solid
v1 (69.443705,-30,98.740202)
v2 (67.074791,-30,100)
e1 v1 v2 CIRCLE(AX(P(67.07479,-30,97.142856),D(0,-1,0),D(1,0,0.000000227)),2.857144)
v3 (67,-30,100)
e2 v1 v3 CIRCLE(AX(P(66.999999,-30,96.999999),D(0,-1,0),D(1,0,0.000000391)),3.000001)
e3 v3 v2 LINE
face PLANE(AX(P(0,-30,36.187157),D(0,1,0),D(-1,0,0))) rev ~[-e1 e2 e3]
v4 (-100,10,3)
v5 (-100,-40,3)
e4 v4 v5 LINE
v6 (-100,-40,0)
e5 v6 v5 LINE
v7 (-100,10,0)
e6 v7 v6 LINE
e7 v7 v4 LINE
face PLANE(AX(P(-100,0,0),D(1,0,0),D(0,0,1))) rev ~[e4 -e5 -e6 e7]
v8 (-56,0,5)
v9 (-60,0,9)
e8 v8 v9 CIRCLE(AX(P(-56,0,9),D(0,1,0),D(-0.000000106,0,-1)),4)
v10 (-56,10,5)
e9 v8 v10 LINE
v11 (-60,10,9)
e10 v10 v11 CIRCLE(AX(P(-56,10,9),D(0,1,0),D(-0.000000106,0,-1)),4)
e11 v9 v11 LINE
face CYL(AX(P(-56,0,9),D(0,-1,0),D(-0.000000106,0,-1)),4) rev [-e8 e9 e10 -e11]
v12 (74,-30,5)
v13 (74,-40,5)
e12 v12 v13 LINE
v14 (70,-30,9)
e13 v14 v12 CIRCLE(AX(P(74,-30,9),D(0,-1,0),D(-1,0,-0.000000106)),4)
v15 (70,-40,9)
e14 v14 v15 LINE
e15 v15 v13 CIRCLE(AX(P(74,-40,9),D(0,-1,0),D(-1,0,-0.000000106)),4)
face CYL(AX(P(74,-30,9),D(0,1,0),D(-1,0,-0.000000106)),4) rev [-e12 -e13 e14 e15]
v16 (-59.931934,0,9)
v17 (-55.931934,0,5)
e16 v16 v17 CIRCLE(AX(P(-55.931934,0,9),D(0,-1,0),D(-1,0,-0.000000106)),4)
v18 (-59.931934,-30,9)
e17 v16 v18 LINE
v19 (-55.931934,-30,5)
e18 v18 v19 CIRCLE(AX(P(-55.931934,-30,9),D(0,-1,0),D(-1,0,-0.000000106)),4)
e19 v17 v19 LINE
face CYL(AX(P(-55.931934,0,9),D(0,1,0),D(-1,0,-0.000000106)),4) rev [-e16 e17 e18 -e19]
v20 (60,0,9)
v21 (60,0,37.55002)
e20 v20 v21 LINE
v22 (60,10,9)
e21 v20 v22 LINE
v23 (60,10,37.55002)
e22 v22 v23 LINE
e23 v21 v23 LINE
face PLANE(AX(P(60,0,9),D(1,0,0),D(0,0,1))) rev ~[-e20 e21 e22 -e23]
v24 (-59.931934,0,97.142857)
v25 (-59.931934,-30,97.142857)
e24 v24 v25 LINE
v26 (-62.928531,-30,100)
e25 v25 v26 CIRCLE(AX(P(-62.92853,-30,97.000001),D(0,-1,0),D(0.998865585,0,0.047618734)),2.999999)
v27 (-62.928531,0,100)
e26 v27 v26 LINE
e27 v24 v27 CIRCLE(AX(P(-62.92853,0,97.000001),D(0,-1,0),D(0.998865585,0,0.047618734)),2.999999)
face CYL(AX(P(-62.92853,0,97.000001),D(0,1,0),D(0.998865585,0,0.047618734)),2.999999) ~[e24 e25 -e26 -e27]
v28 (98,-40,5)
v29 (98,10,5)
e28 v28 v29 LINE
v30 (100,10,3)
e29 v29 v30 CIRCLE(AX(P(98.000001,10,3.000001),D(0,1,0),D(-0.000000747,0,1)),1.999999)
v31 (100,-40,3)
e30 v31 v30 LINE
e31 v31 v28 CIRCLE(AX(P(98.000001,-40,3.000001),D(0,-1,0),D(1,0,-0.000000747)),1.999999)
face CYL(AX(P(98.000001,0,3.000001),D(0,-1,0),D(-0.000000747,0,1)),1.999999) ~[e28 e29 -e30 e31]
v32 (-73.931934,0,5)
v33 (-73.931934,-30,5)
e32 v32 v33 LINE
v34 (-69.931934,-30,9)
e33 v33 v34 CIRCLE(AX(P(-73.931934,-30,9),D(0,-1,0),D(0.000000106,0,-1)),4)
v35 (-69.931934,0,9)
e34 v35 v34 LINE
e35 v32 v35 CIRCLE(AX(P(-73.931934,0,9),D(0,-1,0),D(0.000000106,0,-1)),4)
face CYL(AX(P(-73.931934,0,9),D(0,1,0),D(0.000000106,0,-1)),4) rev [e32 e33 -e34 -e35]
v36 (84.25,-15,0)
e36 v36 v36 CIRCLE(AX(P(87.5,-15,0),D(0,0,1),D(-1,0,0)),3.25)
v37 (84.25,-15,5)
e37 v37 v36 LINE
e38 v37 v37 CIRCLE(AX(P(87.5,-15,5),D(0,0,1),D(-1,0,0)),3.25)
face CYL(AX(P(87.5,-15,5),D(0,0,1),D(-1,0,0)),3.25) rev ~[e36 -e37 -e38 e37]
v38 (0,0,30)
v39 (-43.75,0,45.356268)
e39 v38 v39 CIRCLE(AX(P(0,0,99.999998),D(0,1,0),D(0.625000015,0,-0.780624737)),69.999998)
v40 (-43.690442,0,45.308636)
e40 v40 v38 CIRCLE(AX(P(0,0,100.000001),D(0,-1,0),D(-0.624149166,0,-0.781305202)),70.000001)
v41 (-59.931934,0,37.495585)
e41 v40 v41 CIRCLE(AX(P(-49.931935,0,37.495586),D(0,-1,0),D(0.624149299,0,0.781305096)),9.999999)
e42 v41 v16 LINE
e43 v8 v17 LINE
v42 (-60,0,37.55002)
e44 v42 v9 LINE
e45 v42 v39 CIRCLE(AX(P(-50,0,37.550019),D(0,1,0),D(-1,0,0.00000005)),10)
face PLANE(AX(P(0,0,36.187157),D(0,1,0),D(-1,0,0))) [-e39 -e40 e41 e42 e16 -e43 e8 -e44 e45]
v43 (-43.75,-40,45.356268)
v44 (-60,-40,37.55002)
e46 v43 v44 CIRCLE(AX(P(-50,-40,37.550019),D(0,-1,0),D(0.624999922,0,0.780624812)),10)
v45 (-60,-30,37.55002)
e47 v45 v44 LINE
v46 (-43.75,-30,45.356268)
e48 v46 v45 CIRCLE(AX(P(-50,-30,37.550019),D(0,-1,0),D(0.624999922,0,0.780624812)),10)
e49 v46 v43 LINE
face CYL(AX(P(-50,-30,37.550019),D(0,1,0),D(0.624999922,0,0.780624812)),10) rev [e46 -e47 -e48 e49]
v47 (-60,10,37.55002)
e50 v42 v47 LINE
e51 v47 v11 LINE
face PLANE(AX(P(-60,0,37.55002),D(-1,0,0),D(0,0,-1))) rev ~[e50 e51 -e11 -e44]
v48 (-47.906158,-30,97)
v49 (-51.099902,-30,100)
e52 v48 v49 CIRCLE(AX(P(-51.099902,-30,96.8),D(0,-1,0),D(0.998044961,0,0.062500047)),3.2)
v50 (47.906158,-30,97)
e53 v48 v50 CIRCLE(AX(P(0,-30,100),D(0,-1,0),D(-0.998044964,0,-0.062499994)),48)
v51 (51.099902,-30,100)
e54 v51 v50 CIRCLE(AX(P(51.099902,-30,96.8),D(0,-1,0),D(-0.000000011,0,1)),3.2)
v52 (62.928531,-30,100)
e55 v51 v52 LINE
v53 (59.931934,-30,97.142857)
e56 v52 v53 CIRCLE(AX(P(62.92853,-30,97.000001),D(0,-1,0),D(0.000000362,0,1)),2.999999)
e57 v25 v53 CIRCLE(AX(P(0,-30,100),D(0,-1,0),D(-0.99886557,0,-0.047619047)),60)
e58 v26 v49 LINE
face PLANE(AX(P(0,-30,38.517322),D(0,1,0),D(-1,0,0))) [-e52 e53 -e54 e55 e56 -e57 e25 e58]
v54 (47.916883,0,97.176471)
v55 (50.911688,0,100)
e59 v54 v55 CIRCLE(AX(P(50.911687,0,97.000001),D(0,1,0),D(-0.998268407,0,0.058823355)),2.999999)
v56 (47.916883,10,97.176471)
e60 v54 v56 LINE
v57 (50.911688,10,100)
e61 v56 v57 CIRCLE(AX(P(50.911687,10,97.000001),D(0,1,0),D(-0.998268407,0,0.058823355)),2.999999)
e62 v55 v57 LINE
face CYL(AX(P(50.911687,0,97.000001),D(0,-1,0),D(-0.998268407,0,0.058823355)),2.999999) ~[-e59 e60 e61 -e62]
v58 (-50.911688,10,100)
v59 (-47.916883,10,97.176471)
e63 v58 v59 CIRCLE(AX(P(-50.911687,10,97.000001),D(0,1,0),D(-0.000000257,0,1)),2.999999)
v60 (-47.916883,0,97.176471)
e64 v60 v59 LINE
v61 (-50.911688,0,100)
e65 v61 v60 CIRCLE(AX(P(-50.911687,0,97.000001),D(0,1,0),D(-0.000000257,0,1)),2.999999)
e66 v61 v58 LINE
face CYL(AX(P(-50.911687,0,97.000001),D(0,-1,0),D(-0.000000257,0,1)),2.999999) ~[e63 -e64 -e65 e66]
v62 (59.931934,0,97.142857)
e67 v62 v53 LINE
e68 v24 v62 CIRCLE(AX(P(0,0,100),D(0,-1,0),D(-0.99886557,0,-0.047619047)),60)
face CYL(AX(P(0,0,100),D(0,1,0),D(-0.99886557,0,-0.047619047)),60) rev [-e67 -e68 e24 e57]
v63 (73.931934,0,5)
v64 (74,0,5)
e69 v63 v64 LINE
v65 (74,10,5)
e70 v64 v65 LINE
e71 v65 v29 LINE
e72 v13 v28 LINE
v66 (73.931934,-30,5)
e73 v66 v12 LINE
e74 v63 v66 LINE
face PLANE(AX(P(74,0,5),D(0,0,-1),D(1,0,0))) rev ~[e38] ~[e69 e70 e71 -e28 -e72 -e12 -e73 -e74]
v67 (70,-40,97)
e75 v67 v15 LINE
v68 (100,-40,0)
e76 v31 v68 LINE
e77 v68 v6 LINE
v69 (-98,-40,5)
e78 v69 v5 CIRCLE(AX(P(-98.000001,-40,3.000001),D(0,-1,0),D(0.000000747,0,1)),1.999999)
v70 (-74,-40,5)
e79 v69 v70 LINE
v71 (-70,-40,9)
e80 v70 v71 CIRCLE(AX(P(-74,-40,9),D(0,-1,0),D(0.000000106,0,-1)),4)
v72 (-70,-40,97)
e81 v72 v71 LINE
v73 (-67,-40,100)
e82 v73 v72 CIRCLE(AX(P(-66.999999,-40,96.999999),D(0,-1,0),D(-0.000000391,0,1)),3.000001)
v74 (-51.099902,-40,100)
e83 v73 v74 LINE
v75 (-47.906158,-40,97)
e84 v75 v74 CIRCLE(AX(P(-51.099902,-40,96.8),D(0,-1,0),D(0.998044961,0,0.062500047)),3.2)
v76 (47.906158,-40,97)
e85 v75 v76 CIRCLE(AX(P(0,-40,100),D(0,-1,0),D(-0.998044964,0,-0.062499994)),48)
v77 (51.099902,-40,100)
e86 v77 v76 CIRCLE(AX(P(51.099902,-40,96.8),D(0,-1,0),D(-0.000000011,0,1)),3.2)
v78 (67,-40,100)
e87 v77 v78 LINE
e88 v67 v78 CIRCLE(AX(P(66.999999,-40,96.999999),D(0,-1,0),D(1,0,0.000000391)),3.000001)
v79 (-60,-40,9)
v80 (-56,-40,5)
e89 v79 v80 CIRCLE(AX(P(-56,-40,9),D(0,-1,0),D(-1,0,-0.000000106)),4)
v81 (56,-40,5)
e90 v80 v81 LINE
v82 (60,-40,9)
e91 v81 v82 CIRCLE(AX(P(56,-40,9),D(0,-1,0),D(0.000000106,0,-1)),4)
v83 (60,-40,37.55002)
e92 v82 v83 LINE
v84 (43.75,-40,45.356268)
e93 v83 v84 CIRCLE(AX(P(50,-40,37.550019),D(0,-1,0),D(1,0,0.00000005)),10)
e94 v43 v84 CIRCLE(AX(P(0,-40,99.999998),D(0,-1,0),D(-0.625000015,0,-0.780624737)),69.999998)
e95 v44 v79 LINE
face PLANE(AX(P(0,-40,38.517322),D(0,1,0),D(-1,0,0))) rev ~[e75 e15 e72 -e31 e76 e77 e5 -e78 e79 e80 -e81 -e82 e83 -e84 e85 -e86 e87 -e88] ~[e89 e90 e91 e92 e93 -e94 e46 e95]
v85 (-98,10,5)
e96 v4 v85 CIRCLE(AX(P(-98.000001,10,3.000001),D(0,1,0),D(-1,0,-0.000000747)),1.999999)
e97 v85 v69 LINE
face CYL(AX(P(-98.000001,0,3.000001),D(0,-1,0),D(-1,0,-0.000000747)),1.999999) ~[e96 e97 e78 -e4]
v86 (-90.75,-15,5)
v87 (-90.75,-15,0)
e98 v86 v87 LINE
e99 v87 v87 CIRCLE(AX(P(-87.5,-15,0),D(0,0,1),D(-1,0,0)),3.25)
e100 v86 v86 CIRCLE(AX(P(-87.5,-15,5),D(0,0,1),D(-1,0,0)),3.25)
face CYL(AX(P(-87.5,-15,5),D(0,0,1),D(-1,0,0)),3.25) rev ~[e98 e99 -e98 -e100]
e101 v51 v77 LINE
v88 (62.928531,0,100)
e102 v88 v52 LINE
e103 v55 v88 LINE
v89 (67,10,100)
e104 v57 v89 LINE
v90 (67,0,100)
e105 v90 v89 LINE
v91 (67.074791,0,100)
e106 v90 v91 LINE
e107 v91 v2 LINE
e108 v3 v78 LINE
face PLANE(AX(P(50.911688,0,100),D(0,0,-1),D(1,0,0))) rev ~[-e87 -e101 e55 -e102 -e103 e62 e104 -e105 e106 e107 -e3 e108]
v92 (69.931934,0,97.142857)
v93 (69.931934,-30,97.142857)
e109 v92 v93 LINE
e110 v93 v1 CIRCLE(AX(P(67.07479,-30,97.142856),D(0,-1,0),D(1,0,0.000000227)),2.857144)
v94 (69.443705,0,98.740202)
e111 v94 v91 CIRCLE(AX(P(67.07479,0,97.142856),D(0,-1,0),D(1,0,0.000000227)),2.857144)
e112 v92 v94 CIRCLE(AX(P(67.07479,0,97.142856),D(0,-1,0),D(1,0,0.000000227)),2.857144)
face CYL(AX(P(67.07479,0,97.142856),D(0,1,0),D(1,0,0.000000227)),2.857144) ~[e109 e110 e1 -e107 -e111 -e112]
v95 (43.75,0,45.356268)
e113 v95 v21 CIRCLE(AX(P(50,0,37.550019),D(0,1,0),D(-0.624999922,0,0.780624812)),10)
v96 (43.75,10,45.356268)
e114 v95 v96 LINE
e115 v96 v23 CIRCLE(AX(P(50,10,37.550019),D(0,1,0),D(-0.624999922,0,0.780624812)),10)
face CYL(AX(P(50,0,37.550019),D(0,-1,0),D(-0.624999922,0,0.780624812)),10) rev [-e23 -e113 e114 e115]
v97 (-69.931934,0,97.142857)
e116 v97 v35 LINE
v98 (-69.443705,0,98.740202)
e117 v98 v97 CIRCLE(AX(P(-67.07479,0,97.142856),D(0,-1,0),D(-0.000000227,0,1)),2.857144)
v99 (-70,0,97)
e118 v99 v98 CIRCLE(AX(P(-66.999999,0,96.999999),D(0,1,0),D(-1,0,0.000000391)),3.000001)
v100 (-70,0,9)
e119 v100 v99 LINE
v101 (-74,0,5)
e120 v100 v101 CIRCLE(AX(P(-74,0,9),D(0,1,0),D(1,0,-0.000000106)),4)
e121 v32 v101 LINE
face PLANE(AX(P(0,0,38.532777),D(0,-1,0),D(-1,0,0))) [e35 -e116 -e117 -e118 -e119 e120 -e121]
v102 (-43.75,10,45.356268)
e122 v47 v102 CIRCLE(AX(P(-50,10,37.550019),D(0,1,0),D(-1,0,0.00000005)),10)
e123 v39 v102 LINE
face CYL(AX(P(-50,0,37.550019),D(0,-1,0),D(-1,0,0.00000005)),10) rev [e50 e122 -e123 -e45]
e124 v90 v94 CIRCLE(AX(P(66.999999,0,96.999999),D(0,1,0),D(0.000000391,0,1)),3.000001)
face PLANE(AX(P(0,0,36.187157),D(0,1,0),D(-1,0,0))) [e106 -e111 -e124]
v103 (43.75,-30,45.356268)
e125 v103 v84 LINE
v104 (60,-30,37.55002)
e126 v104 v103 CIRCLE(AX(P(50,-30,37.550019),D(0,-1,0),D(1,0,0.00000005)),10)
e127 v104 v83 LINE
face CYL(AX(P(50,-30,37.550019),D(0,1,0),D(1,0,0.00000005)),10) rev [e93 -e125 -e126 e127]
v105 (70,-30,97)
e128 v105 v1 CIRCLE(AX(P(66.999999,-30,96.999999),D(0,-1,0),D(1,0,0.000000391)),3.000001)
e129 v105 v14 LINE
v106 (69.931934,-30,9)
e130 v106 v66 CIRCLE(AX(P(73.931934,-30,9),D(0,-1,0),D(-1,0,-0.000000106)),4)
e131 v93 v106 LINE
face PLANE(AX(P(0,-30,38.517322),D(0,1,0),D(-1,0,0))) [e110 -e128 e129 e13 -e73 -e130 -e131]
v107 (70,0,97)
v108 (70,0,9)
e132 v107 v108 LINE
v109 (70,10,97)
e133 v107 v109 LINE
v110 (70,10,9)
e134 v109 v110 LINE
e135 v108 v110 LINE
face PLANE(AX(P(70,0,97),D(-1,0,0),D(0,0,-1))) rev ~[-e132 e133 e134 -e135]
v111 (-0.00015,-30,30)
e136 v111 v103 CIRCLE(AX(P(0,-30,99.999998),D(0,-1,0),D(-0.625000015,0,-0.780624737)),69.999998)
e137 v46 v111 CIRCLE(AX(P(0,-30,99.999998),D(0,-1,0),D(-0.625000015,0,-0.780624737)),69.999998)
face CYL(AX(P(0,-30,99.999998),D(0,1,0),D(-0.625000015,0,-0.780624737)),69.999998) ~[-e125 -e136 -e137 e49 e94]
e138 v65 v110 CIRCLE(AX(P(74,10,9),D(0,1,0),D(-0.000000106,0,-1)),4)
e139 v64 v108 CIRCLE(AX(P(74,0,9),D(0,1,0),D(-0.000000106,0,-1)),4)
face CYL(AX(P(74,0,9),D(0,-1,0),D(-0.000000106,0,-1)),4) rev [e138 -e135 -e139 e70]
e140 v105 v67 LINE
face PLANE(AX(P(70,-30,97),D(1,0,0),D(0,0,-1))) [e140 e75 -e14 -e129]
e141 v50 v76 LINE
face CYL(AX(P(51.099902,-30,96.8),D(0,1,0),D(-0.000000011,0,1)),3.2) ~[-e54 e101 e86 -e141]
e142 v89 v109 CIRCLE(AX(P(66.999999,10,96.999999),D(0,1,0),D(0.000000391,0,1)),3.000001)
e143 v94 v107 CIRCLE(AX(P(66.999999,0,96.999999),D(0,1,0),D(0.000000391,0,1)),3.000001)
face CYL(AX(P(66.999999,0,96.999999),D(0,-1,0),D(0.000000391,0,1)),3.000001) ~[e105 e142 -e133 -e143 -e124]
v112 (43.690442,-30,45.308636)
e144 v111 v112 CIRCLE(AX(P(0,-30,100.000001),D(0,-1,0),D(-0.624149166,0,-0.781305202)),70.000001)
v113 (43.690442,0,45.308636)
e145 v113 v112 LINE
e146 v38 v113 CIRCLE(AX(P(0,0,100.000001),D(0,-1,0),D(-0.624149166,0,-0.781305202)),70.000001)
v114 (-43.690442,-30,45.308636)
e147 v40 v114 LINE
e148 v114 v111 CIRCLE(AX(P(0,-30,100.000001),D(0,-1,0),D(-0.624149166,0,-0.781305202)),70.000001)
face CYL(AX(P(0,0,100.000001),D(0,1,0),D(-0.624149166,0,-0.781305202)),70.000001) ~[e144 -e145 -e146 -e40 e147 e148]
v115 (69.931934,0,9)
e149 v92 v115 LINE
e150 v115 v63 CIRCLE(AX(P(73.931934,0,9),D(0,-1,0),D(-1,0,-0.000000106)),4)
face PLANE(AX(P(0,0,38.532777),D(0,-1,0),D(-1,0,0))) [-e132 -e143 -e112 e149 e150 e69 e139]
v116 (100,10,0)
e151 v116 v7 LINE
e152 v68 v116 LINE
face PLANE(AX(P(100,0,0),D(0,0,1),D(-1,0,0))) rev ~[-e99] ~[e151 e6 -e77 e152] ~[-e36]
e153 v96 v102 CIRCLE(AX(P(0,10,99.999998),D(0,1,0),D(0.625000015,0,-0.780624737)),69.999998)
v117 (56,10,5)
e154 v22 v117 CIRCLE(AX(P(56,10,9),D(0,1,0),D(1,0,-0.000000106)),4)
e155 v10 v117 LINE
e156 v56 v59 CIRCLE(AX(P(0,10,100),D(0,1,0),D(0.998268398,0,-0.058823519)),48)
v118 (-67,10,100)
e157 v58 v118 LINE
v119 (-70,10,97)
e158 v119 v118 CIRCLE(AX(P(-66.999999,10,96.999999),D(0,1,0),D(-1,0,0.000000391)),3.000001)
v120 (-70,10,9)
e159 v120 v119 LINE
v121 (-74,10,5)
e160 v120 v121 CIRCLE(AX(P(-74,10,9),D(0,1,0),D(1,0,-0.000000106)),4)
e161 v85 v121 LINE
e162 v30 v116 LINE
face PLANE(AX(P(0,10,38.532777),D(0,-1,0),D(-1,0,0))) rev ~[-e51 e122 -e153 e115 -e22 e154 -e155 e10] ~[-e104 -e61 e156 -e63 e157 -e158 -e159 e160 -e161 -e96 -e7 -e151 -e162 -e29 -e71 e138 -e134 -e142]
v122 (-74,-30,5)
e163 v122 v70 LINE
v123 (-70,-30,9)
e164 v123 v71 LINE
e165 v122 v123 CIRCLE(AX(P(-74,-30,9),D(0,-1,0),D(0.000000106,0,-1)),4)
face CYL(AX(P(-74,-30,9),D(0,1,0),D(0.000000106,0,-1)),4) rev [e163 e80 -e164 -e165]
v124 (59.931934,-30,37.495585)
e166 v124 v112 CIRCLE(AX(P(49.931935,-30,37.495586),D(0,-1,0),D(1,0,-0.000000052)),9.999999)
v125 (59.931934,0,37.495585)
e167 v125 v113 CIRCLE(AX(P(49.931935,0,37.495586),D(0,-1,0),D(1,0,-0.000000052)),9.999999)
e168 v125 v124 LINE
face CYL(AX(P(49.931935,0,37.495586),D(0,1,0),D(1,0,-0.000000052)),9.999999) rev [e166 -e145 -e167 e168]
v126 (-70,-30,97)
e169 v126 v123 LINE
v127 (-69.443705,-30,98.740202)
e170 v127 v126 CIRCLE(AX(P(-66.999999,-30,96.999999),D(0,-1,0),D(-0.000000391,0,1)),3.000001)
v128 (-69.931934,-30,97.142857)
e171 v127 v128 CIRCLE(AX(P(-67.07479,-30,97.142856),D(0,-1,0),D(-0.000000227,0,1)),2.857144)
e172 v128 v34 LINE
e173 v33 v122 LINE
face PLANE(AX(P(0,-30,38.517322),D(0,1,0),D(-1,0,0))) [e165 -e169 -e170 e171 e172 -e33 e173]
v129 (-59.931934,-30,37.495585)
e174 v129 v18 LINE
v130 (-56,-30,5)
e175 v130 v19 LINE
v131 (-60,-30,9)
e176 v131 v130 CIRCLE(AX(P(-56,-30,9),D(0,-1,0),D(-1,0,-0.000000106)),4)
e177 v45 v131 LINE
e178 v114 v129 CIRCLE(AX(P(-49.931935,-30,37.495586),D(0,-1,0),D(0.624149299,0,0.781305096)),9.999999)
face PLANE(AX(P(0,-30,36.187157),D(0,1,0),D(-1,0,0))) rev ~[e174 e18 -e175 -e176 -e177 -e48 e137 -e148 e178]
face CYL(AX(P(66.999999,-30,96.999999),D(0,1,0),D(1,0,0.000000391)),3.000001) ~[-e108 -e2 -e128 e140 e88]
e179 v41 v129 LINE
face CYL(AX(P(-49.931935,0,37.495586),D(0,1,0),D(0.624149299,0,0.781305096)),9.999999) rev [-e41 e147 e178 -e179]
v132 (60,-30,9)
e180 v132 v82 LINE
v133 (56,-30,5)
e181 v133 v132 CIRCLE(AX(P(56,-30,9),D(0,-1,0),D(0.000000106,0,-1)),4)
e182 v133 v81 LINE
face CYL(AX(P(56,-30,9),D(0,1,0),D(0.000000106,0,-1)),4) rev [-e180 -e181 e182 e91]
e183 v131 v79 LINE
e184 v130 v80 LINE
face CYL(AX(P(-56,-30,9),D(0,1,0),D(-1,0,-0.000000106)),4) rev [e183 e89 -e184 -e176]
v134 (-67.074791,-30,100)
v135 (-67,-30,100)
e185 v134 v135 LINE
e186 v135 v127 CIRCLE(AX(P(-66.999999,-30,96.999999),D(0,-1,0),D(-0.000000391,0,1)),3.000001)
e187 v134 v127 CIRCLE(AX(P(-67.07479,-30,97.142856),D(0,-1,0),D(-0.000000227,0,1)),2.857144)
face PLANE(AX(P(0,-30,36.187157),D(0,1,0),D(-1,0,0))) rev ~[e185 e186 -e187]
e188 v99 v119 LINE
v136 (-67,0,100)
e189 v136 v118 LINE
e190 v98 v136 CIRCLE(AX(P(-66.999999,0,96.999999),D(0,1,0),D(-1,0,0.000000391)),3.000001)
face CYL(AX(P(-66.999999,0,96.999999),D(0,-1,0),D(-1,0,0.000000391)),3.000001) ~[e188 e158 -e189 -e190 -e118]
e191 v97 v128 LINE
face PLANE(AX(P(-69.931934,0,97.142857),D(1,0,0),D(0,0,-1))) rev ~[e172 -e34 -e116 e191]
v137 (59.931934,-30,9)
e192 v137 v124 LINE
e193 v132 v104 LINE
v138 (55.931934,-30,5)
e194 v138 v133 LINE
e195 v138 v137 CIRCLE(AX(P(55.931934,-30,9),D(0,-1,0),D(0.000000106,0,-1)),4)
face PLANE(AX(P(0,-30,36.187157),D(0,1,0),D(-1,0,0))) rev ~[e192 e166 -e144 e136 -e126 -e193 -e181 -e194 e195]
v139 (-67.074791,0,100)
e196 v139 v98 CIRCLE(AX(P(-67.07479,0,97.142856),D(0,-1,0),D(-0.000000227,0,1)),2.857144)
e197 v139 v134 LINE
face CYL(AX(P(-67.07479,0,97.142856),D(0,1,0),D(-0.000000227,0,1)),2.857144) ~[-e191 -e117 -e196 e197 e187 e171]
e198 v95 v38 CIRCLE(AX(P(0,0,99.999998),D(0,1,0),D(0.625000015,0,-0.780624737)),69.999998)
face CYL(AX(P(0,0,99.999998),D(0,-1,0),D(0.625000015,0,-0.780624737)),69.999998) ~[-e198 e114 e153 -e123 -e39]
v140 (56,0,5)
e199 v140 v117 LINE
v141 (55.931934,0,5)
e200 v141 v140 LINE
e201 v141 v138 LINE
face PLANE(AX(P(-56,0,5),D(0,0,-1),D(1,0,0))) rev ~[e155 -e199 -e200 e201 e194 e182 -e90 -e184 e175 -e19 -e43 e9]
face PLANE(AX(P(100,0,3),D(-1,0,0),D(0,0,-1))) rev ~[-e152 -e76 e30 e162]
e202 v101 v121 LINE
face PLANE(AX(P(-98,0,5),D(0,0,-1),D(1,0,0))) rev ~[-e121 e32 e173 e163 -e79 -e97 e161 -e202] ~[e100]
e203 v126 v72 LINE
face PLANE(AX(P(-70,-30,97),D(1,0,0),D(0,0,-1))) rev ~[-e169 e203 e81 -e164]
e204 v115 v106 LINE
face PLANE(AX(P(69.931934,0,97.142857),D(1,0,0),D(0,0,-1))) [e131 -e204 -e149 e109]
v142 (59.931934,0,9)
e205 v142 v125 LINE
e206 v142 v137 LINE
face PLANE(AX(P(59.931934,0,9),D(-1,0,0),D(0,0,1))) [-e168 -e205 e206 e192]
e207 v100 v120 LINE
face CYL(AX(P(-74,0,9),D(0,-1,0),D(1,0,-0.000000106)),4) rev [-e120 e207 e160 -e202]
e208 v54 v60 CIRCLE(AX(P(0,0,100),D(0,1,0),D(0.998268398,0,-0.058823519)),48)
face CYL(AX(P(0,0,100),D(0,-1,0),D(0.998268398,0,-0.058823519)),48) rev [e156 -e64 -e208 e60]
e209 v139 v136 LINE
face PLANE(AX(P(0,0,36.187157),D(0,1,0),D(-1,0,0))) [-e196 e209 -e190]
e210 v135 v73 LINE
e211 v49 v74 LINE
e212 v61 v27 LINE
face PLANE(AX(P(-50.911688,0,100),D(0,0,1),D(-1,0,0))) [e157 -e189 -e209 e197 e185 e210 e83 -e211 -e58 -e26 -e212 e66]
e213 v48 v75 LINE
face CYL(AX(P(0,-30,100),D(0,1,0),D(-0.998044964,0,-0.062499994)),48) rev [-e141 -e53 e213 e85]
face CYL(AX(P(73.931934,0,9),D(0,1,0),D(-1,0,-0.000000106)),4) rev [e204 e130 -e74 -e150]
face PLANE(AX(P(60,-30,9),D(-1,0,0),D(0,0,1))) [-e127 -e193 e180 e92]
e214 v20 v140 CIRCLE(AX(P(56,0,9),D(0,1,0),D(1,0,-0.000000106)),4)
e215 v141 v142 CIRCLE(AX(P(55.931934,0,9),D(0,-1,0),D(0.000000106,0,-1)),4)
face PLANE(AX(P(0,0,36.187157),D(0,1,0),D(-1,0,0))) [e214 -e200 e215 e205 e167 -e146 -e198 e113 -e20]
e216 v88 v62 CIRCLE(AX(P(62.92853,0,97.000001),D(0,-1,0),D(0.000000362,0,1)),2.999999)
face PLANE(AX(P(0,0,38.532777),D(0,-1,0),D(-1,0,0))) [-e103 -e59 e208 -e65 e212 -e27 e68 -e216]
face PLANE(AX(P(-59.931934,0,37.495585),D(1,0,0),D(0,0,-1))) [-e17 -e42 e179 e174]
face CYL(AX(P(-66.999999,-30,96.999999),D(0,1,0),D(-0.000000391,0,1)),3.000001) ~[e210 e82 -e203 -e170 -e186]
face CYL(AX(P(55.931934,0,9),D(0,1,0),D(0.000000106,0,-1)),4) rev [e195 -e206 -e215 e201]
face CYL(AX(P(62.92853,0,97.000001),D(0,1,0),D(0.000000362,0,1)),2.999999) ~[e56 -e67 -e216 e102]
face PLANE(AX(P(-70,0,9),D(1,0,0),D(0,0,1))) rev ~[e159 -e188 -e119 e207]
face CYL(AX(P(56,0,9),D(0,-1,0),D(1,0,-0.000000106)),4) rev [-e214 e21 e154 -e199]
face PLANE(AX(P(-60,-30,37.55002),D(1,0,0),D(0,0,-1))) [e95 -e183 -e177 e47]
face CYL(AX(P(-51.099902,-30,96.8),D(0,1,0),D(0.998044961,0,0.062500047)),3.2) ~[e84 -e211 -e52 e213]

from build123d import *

# Parameters (mm, degrees)
PAD_DEPTH    = 30
PAD001_DEPTH = 10
PAD002_DEPTH = 10
SKETCH003_R  = 3.25
POCKET_DEPTH = 5


with BuildPart() as part:
    # Sketch → Pad (new body)
    with BuildSketch(Plane.XZ):
        with BuildLine():
            ThreePointArc((-59.931934, 97.142857), (0, 40), (59.931934, 97.142857))
            ThreePointArc((62.928531, 100), (60.858334, 99.171241), (59.931934, 97.142857))
            Line((62.928531, 100), (67.074791, 100))
            ThreePointArc((69.931934, 97.142857), (69.095096, 99.163162), (67.074791, 100))
            Line((69.931934, 97.142857), (69.931934, 9))
            ThreePointArc((69.931934, 9), (71.103507, 6.171573), (73.931934, 5))
            Line((73.931934, 5), (98, 5))
            ThreePointArc((100, 3), (99.414214, 4.414214), (98, 5))
            Line((100, 0), (100, 3))
            Line((-100, 0), (100, 0))
            Line((-100, 3), (-100, 0))
            ThreePointArc((-98, 5), (-99.414214, 4.414214), (-100, 3))
            Line((-73.931934, 5), (-98, 5))
            ThreePointArc((-73.931934, 5), (-71.103507, 6.171573), (-69.931934, 9))
            Line((-69.931934, 97.142857), (-69.931934, 9))
            ThreePointArc((-67.074791, 100), (-69.095096, 99.163162), (-69.931934, 97.142857))
            Line((-67.074791, 100), (-62.928531, 100))
            ThreePointArc((-59.931934, 97.142857), (-60.858334, 99.171241), (-62.928531, 100))
        make_face()
        with BuildLine():
            ThreePointArc((-43.690442, 45.308636), (0, 30), (43.690442, 45.308636))
            ThreePointArc((59.931934, 37.495585), (54.266971, 46.507103), (43.690442, 45.308636))
            Line((59.931934, 9), (59.931934, 37.495585))
            ThreePointArc((55.931934, 5), (58.760361, 6.171573), (59.931934, 9))
            Line((-55.931934, 5), (55.931934, 5))
            ThreePointArc((-59.931934, 9), (-58.760361, 6.171573), (-55.931934, 5))
            Line((-59.931934, 37.495585), (-59.931934, 9))
            ThreePointArc((-43.690442, 45.308636), (-54.266971, 46.507103), (-59.931934, 37.495585))
        make_face(mode=Mode.SUBTRACT)
    extrude(amount=PAD_DEPTH)

    # Sketch001 (on Face28 of Pad) → Pad001 (join)
    with BuildSketch(Plane.XZ.offset(30)):
        with BuildLine():
            ThreePointArc((-47.906158, 97), (0, 52), (47.906158, 97))
            ThreePointArc((51.099902, 100), (48.909012, 99.132381), (47.906158, 97))
            Line((51.099902, 100), (67, 100))
            ThreePointArc((70, 97), (69.12132, 99.12132), (67, 100))
            Line((70, 97), (70, 9))
            ThreePointArc((70, 9), (71.171573, 6.171573), (74, 5))
            Line((74, 5), (98, 5))
            ThreePointArc((100, 3), (99.414214, 4.414214), (98, 5))
            Line((100, 3), (100, 0))
            Line((100, 0), (-100, 0))
            Line((-100, 0), (-100, 3))
            ThreePointArc((-98, 5), (-99.414214, 4.414214), (-100, 3))
            Line((-98, 5), (-74, 5))
            ThreePointArc((-74, 5), (-71.171573, 6.171573), (-70, 9))
            Line((-70, 97), (-70, 9))
            ThreePointArc((-67, 100), (-69.12132, 99.12132), (-70, 97))
            Line((-67, 100), (-51.099902, 100))
            ThreePointArc((-47.906158, 97), (-48.909012, 99.132381), (-51.099902, 100))
        make_face()
        with BuildLine():
            ThreePointArc((-43.75, 45.356268), (0, 30), (43.75, 45.356268))
            ThreePointArc((60, 37.55002), (54.330127, 46.563898), (43.75, 45.356268))
            Line((60, 9), (60, 37.55002))
            ThreePointArc((56, 5), (58.828427, 6.171573), (60, 9))
            Line((-56, 5), (56, 5))
            ThreePointArc((-60, 9), (-58.828427, 6.171573), (-56, 5))
            Line((-60, 37.55002), (-60, 9))
            ThreePointArc((-43.75, 45.356268), (-54.330127, 46.563898), (-60, 37.55002))
        make_face(mode=Mode.SUBTRACT)
    extrude(amount=PAD001_DEPTH)

    # Sketch002 (on Face4 of Pad001) → Pad002 (join)
    with BuildSketch(Plane(origin=(0, 0, 0), x_dir=(1, 0, 0), z_dir=(0, 1, 0))):
        with BuildLine():
            ThreePointArc((47.916883, -97.176471), (0, -52), (-47.916883, -97.176471))
            ThreePointArc((-50.911688, -100), (-48.853705, -99.182821), (-47.916883, -97.176471))
            Line((-50.911688, -100), (-67, -100))
            ThreePointArc((-70, -97), (-69.12132, -99.12132), (-67, -100))
            Line((-70, -9), (-70, -97))
            ThreePointArc((-70, -9), (-71.171573, -6.171573), (-74, -5))
            Line((-98, -5), (-74, -5))
            ThreePointArc((-100, -3), (-99.414214, -4.414214), (-98, -5))
            Line((-100, 0), (-100, -3))
            Line((100, 0), (-100, 0))
            Line((100, -3), (100, 0))
            ThreePointArc((98, -5), (99.414214, -4.414214), (100, -3))
            Line((74, -5), (98, -5))
            ThreePointArc((74, -5), (71.171573, -6.171573), (70, -9))
            Line((70, -97), (70, -9))
            ThreePointArc((67, -100), (69.12132, -99.12132), (70, -97))
            Line((50.911688, -100), (67, -100))
            ThreePointArc((47.916883, -97.176471), (48.853705, -99.182821), (50.911688, -100))
        make_face()
        with BuildLine():
            ThreePointArc((43.75, -45.356268), (0, -30), (-43.75, -45.356268))
            ThreePointArc((-60, -37.55002), (-54.330127, -46.563898), (-43.75, -45.356268))
            Line((-60, -37.55002), (-60, -9))
            ThreePointArc((-56, -5), (-58.828427, -6.171573), (-60, -9))
            Line((-56, -5), (56, -5))
            ThreePointArc((60, -9), (58.828427, -6.171573), (56, -5))
            Line((60, -9), (60, -37.55002))
            ThreePointArc((43.75, -45.356268), (54.330127, -46.563898), (60, -37.55002))
        make_face(mode=Mode.SUBTRACT)
    extrude(amount=PAD002_DEPTH)

    # Sketch003 (on Face75 of Pad002) → Pocket (cut)
    with BuildSketch(Plane(origin=(0, 0, 5), x_dir=(-1, 0, 0), z_dir=(0, 0, 1))):
        with Locations((-87.5, 15)):
            Circle(SKETCH003_R)
        with Locations((87.5, 15)):
            Circle(SKETCH003_R)
    extrude(amount=-POCKET_DEPTH, mode=Mode.SUBTRACT)


solid = part.part
